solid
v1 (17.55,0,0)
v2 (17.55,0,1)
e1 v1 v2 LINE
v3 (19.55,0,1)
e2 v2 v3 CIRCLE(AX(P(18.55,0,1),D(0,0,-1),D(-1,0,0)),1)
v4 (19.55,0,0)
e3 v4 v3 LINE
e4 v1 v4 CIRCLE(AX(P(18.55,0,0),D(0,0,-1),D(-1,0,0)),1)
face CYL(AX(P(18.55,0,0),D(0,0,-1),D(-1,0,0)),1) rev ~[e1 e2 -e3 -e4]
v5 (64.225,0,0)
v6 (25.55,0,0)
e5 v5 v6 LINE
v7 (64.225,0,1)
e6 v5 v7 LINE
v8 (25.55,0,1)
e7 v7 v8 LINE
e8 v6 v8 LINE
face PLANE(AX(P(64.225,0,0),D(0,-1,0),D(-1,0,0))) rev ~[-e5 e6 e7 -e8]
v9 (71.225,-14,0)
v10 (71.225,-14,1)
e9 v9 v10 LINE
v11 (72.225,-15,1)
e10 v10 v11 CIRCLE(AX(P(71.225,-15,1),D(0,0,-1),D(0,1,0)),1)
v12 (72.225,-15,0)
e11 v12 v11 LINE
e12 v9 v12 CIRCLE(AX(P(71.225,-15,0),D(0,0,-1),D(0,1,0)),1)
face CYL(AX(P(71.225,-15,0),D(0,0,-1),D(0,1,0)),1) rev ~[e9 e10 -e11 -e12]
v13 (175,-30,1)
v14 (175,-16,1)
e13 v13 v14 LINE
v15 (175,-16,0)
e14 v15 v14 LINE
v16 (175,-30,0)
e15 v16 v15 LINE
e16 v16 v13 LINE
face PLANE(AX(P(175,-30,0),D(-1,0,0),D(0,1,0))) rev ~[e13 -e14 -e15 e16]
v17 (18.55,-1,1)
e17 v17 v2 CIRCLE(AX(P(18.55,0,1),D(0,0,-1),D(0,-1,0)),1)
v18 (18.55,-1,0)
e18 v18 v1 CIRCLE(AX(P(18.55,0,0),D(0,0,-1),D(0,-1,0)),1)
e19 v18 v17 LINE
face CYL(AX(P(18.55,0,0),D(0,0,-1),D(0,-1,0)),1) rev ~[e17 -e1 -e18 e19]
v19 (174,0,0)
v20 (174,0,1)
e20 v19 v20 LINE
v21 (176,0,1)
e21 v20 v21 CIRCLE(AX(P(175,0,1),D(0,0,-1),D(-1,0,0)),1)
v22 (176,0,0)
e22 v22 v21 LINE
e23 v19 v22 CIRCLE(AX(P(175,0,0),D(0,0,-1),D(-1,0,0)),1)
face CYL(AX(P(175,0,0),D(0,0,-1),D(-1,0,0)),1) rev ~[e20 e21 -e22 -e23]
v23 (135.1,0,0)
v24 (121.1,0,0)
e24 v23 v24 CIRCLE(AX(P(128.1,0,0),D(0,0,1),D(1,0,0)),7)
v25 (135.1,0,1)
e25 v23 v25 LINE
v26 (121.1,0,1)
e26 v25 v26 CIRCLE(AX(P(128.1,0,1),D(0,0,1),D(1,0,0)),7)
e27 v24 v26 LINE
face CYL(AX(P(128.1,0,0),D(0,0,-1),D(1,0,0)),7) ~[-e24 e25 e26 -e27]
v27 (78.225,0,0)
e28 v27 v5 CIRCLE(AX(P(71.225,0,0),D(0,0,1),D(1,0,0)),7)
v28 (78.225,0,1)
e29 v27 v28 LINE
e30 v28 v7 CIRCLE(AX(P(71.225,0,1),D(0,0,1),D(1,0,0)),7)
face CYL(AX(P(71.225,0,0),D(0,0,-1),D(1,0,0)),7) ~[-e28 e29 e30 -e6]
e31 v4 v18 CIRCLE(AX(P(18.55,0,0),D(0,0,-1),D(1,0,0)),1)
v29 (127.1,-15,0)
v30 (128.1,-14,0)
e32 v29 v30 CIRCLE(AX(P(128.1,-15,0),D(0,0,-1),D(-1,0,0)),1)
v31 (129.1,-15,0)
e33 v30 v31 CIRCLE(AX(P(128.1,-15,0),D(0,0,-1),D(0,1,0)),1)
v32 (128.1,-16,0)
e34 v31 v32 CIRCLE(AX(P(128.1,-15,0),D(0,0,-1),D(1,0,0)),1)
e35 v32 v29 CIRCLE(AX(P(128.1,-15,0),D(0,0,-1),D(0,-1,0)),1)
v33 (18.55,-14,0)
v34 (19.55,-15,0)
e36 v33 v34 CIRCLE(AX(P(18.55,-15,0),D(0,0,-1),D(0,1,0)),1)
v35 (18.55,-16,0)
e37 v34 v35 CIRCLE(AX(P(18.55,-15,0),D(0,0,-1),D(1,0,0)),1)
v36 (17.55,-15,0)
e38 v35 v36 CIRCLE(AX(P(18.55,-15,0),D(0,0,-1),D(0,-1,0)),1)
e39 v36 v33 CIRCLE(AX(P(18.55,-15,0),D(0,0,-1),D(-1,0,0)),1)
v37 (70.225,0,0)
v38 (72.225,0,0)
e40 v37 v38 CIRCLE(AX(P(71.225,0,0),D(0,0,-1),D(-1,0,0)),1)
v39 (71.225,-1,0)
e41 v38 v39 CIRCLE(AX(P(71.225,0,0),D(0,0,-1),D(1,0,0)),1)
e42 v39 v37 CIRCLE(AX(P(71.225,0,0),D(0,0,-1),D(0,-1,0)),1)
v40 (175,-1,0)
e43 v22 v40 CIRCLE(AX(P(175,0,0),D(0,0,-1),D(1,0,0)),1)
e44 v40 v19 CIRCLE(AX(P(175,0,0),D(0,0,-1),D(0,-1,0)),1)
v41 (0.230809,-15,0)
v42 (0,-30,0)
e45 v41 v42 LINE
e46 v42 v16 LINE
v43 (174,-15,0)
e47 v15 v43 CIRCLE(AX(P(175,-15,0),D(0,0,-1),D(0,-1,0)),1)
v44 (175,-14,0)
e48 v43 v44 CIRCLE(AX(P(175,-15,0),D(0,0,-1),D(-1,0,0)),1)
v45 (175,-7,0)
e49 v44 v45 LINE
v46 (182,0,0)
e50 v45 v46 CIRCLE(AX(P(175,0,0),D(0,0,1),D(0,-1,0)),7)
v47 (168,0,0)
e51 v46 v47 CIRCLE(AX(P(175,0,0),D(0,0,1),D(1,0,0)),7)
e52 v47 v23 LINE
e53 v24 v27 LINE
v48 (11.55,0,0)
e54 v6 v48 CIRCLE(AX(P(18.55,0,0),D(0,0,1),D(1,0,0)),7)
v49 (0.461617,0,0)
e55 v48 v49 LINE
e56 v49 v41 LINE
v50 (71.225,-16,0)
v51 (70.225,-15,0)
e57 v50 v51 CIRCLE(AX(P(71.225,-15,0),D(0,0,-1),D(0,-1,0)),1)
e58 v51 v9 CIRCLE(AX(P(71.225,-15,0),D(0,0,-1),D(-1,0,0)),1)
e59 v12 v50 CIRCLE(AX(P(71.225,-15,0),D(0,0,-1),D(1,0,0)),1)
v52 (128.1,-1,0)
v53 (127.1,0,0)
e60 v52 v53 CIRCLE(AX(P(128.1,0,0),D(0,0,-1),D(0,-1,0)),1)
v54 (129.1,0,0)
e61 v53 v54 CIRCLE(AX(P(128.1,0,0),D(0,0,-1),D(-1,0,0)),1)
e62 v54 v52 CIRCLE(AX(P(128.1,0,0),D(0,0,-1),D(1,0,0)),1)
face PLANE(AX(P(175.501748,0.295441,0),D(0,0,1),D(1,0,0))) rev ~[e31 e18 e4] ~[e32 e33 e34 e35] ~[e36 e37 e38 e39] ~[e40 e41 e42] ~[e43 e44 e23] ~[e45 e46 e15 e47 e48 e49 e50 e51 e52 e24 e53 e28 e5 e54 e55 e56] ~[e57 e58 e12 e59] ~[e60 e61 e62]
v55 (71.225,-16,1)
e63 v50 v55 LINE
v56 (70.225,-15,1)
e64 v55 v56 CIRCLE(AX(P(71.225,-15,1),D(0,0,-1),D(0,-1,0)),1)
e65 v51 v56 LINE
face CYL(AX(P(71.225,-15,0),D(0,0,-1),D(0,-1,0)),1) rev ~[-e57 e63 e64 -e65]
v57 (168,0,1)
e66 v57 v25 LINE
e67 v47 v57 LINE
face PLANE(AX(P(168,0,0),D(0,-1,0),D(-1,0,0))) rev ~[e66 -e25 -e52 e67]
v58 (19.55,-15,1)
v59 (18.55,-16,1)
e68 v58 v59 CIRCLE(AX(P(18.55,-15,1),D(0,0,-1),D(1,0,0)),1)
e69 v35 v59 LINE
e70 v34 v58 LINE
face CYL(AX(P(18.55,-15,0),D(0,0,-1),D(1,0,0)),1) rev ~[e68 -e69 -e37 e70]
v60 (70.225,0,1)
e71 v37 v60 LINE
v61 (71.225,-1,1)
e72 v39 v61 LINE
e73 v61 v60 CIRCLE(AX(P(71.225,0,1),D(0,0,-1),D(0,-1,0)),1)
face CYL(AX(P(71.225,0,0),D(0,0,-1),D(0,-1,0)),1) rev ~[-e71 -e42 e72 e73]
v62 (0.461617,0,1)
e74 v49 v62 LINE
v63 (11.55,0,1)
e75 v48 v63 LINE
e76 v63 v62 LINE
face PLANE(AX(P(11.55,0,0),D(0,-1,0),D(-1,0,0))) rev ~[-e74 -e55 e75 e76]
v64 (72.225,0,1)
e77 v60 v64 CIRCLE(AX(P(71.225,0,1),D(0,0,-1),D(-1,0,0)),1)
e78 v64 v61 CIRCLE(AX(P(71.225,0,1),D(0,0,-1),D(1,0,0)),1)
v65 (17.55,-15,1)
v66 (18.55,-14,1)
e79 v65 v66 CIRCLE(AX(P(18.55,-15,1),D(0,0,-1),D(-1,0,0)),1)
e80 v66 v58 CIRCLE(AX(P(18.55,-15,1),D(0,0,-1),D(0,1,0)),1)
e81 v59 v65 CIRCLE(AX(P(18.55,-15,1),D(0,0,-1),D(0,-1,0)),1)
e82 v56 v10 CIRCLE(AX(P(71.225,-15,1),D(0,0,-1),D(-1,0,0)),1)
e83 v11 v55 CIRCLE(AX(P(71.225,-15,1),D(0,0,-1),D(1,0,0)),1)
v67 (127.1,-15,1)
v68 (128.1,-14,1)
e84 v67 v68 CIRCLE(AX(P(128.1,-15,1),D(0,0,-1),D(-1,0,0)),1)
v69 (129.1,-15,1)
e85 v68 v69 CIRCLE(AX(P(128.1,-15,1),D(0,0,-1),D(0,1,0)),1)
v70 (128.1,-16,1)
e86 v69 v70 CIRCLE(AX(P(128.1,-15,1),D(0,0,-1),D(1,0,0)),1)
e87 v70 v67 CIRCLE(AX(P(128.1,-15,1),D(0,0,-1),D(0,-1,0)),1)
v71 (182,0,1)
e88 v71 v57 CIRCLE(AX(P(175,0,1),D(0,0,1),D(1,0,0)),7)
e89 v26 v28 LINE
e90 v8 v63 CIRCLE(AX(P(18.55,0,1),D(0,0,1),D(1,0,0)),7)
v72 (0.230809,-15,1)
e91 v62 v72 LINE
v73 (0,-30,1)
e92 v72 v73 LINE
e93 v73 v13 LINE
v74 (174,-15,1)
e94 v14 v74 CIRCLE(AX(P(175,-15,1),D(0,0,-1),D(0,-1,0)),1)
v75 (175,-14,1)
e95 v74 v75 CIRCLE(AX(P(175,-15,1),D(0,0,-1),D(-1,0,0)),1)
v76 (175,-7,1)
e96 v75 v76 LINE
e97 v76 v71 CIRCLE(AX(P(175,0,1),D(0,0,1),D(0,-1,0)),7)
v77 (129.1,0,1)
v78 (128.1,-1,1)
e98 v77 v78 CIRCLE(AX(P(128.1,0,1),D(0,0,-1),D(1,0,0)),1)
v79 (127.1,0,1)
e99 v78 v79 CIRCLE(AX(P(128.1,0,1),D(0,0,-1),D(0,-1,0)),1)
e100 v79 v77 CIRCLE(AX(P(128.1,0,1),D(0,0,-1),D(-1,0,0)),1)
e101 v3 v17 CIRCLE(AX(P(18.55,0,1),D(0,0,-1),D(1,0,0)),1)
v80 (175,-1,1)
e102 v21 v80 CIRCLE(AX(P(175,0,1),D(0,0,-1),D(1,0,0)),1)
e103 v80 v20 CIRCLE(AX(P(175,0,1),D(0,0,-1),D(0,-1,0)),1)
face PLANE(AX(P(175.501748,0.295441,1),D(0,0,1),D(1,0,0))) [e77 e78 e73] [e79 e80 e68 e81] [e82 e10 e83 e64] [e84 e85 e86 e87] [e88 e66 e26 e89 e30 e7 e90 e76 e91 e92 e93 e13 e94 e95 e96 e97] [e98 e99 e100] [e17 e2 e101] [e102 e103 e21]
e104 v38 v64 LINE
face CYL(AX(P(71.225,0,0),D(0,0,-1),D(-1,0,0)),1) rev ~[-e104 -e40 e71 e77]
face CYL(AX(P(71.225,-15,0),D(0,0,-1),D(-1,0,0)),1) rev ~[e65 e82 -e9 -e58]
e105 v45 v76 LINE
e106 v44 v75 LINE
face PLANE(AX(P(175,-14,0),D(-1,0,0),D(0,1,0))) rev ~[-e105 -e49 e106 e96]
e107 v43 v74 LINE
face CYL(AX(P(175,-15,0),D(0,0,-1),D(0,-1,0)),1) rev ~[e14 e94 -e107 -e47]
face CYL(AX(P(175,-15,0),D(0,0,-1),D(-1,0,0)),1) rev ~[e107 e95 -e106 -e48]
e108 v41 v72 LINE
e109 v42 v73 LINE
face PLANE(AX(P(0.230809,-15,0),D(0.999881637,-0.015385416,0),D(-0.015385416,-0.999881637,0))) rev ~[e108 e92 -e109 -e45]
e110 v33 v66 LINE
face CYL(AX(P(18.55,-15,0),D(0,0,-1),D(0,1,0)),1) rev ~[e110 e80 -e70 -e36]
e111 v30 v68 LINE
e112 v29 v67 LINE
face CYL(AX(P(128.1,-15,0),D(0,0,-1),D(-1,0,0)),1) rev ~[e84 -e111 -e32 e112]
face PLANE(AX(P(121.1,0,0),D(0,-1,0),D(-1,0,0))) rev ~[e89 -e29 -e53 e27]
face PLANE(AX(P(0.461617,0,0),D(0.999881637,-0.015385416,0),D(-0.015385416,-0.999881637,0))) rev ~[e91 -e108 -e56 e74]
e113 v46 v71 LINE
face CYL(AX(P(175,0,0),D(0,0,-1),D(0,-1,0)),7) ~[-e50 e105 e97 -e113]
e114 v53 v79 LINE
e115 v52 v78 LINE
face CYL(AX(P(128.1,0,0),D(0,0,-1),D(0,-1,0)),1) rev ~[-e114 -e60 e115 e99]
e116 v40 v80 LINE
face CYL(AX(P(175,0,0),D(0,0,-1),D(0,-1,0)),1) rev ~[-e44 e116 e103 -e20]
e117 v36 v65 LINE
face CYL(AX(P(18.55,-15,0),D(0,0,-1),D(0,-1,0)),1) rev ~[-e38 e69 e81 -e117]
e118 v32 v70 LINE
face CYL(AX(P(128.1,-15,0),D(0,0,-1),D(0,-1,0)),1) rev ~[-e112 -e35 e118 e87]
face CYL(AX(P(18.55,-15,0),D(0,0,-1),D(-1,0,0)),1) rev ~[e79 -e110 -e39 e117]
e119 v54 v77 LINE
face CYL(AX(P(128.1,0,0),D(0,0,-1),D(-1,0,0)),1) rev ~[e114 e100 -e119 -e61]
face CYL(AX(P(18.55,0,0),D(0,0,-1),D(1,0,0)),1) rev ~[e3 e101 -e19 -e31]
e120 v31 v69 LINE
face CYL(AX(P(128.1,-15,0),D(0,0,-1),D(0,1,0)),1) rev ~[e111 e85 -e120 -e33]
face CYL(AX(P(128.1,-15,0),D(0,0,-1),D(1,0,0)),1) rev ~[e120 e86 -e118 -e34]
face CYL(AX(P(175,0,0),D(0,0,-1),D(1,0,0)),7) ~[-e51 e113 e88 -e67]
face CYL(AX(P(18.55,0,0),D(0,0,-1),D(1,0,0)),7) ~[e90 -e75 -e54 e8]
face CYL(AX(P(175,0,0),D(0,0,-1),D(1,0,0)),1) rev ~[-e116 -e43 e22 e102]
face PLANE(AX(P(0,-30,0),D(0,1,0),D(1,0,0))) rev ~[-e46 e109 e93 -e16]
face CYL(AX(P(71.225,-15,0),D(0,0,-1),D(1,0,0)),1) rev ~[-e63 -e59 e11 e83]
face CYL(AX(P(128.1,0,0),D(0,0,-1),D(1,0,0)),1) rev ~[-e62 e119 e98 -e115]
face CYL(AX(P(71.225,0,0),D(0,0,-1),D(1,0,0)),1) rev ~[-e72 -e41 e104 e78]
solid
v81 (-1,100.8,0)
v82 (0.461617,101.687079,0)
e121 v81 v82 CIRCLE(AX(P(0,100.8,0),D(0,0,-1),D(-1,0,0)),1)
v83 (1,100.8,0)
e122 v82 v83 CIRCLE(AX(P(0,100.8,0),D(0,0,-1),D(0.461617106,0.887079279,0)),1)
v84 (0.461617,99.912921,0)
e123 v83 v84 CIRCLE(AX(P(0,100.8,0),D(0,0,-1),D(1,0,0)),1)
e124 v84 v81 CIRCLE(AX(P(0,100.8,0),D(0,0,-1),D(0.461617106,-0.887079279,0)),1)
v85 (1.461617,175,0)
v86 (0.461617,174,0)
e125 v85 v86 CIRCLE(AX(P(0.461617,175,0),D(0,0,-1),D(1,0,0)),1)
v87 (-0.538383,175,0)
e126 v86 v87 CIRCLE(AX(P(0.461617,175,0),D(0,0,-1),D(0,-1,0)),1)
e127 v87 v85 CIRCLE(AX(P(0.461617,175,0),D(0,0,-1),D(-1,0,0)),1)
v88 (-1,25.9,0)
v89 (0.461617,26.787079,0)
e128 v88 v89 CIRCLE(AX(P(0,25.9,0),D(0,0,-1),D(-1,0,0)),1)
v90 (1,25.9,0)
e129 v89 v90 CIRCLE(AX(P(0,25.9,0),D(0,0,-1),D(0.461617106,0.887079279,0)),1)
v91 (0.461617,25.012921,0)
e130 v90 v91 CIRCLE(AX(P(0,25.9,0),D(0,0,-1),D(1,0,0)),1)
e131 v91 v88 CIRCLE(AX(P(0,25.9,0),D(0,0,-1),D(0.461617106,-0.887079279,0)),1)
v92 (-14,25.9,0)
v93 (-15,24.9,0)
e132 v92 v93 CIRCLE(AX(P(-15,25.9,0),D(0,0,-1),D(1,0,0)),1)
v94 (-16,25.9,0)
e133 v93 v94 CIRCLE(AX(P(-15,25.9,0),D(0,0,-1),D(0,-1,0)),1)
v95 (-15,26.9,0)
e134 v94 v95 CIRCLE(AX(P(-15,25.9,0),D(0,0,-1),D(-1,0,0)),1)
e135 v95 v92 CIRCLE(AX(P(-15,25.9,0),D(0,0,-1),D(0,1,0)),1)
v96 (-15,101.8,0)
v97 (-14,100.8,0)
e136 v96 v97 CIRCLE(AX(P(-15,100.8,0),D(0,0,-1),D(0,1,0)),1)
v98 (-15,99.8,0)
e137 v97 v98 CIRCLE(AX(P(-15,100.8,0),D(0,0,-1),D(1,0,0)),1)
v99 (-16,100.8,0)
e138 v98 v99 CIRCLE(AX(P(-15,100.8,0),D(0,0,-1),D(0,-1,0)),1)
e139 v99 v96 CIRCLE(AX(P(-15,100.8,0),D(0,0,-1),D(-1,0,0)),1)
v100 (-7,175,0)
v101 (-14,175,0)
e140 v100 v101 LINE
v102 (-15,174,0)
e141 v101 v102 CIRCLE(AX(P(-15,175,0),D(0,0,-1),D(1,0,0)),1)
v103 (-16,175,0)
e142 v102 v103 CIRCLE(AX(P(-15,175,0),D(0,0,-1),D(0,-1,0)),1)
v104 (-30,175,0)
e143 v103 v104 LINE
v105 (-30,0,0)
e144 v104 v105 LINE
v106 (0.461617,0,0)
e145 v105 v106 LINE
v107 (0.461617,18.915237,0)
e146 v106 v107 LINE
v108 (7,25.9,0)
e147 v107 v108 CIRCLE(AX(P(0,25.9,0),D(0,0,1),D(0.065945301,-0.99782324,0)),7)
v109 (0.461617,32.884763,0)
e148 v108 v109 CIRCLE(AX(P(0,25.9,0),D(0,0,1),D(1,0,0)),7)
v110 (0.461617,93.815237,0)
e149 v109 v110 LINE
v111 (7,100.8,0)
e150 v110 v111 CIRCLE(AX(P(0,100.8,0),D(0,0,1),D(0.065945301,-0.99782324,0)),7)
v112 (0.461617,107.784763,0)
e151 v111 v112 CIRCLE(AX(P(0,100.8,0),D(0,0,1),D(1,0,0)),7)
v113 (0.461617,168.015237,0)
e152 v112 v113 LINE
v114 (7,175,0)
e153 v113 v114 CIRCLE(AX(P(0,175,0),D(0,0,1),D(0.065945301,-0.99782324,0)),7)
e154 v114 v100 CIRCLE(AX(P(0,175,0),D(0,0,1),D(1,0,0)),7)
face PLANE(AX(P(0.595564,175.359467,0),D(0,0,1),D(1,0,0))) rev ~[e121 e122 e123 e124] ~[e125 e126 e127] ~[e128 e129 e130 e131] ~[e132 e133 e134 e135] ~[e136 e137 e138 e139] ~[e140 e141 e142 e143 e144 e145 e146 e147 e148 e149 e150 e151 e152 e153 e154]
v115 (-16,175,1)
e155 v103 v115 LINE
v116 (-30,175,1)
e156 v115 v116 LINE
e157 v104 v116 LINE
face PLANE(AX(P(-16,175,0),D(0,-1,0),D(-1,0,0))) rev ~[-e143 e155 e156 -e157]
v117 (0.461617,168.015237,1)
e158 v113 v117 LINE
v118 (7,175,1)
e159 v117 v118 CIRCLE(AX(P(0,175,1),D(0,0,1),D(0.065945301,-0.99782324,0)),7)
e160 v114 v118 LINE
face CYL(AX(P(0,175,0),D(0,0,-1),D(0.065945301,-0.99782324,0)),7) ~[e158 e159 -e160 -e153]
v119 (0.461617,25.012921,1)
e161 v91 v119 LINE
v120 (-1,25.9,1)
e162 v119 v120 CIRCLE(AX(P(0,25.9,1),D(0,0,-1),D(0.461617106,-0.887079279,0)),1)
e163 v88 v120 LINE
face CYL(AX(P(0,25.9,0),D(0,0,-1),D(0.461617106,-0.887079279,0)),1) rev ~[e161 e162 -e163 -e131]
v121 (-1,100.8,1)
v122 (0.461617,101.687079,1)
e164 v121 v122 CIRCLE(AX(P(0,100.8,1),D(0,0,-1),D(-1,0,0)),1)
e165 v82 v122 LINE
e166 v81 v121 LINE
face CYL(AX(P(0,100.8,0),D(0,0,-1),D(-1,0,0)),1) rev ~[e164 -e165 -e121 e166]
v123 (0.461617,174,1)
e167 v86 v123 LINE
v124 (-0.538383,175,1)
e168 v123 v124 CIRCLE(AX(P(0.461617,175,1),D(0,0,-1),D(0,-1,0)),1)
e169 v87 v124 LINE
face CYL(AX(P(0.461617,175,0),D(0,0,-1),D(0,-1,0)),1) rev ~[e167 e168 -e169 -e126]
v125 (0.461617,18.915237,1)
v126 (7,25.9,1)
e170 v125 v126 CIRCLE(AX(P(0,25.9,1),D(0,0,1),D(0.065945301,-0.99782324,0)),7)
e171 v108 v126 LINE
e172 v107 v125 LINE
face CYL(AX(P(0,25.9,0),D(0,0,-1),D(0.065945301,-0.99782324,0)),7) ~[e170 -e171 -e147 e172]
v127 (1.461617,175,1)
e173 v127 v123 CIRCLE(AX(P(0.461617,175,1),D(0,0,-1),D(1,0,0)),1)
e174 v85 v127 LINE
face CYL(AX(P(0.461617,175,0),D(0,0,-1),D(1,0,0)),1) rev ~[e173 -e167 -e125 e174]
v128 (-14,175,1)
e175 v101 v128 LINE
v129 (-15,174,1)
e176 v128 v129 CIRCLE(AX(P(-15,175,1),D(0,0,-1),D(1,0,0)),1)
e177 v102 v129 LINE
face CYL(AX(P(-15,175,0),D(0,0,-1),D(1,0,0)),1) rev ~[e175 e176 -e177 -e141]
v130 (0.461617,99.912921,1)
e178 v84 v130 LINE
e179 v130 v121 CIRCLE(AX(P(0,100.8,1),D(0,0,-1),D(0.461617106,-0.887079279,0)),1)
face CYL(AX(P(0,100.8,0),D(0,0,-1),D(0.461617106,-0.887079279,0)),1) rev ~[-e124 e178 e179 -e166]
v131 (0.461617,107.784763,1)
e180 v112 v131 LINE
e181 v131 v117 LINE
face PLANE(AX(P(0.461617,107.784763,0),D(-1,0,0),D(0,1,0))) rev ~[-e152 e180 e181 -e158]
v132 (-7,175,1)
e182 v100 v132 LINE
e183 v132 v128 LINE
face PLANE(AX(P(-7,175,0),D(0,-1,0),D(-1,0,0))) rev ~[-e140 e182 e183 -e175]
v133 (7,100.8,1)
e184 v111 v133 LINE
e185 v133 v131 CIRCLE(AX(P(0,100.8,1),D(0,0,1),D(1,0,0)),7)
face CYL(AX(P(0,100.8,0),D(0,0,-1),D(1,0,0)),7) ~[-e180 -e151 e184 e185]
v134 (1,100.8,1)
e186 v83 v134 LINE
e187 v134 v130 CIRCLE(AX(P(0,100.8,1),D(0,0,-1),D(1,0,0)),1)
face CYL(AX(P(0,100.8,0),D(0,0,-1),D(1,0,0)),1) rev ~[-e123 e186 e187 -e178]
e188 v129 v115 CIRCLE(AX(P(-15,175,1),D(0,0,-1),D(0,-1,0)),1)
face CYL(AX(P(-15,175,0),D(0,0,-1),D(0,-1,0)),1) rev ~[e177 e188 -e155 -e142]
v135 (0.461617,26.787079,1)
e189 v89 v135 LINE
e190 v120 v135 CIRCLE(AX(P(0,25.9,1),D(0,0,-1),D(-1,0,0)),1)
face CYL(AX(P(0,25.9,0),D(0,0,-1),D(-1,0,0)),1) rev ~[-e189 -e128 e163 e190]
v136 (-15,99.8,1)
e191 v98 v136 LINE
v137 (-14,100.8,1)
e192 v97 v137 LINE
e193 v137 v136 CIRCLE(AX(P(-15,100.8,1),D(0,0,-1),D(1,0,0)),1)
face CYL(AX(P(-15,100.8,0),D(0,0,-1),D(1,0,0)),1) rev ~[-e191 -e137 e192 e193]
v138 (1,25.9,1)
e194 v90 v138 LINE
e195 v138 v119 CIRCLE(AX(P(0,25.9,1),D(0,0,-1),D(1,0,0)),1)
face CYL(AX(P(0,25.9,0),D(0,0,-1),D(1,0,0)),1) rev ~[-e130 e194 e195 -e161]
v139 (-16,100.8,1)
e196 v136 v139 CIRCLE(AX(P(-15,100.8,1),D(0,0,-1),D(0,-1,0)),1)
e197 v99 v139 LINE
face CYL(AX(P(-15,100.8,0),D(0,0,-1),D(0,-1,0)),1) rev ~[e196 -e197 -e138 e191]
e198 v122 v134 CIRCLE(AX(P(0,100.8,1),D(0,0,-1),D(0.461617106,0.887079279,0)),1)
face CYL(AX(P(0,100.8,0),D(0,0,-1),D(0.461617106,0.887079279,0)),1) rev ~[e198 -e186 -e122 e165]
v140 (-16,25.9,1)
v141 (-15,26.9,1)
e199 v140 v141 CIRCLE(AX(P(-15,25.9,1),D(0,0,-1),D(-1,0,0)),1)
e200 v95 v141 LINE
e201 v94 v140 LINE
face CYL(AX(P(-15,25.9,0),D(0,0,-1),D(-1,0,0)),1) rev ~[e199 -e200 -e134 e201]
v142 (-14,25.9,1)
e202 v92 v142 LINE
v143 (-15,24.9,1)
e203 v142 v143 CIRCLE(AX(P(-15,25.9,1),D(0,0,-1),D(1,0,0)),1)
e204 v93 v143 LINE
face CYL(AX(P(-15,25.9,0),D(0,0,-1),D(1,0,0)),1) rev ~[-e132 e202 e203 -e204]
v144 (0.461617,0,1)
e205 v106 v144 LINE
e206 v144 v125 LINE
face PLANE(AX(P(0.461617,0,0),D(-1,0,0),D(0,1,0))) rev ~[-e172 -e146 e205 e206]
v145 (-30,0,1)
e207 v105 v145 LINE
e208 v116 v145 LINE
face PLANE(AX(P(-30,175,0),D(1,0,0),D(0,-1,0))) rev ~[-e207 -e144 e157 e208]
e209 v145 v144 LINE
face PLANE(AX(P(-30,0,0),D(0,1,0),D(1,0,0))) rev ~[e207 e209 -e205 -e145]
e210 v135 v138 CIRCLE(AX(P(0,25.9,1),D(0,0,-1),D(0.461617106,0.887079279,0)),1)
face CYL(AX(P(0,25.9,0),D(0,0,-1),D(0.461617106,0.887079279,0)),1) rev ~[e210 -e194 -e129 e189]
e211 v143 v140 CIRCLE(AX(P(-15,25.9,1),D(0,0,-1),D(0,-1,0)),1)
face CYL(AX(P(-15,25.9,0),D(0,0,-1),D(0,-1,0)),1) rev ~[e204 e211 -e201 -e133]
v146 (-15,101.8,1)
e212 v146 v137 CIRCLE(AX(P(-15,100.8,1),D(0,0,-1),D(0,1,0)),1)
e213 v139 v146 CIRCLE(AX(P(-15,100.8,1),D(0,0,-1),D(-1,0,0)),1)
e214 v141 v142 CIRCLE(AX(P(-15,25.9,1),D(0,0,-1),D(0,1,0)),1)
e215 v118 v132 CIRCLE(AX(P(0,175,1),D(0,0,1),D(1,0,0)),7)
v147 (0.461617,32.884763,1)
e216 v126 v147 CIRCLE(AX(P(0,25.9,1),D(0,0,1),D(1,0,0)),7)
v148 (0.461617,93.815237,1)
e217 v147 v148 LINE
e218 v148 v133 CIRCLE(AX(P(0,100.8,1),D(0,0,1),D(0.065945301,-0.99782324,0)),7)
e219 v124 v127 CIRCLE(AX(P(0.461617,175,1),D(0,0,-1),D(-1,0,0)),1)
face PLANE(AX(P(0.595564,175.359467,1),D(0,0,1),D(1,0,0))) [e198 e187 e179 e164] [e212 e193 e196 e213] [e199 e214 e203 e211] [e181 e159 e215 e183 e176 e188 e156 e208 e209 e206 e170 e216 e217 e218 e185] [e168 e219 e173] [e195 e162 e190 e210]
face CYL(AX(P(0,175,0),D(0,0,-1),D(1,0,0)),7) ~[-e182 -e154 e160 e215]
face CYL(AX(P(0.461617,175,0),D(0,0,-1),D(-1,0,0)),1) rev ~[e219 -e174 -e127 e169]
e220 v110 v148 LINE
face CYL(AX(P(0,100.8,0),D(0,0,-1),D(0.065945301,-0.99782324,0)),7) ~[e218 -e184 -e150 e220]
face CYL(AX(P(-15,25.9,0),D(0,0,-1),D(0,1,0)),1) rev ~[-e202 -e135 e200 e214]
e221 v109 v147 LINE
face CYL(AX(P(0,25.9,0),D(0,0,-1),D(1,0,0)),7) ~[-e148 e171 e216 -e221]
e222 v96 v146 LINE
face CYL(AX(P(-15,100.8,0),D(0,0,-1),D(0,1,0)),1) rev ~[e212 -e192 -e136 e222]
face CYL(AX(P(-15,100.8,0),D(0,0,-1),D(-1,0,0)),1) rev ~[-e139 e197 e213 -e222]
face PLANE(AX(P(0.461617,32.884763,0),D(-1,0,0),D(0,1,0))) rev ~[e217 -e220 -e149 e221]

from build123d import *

# Parameters (mm, degrees)
F1_DEPTH = 1


with BuildPart() as f1:
    # F0 (on Top) → F1 (new body)
    with BuildSketch(Plane.XY):
        with BuildLine():
            ThreePointArc((182, 0), (175, 7), (168, 0))
            Line((168, 0), (174, 0))
            ThreePointArc((174, 0), (175, 1), (176, 0))
            ThreePointArc((176, 0), (175.7071067812, -0.7071067812), (175, -1))
            Line((175, -1), (175, -7))
            ThreePointArc((175, -7), (179.9497474683, -4.9497474683), (182, 0))
        make_face()
        with BuildLine():
            Line((19.55, 0), (25.55, 0))
            ThreePointArc((25.55, 0), (18.55, 7), (11.55, 0))
            Line((11.55, 0), (17.55, 0))
            ThreePointArc((17.55, 0), (18.55, 1), (19.55, 0))
        make_face()
        with BuildLine():
            ThreePointArc((78.225, 0), (71.225, 7), (64.225, 0))
            Line((64.225, 0), (70.225, 0))
            ThreePointArc((70.225, 0), (71.225, 1), (72.225, 0))
            Line((72.225, 0), (78.225, 0))
        make_face()
        with BuildLine():
            ThreePointArc((135.1, 0), (128.1, 7), (121.1, 0))
            Line((121.1, 0), (127.1, 0))
            ThreePointArc((127.1, 0), (128.1, 1), (129.1, 0))
            Line((129.1, 0), (135.1, 0))
        make_face()
        with BuildLine():
            Line((174, 0), (168, 0))
            ThreePointArc((168, 0), (170.0502525317, -4.9497474683), (175, -7))
            Line((175, -7), (175, -1))
            ThreePointArc((175, -1), (174.2928932188, -0.7071067812), (174, 0))
        make_face()
        with BuildLine():
            Line((17.55, -15), (0.2308085532, -15))
            Line((0.2308085532, -15), (0, -30))
            Line((0, -30), (18.55, -30))
            Line((18.55, -30), (18.55, -16))
            ThreePointArc((18.55, -16), (17.8428932188, -15.7071067812), (17.55, -15))
        make_face()
        with BuildLine():
            ThreePointArc((18.55, -7), (13.6002525317, -4.9497474683), (11.55, 0))
            Line((11.55, 0), (0.4616171063, 0))
            Line((0.4616171063, 0), (0.2308085532, -15))
            Line((0.2308085532, -15), (17.55, -15))
            ThreePointArc((17.55, -15), (17.8428932188, -14.2928932188), (18.55, -14))
            Line((18.55, -14), (18.55, -7))
        make_face()
        with BuildLine():
            Line((17.55, 0), (11.55, 0))
            ThreePointArc((11.55, 0), (13.6002525317, -4.9497474683), (18.55, -7))
            Line((18.55, -7), (18.55, -1))
            ThreePointArc((18.55, -1), (17.8428932188, -0.7071067812), (17.55, 0))
        make_face()
        with BuildLine():
            ThreePointArc((18.55, -7), (23.4997474683, -4.9497474683), (25.55, 0))
            Line((25.55, 0), (19.55, 0))
            ThreePointArc((19.55, 0), (19.2571067812, -0.7071067812), (18.55, -1))
            Line((18.55, -1), (18.55, -7))
        make_face()
        with BuildLine():
            Line((70.225, 0), (64.225, 0))
            ThreePointArc((64.225, 0), (66.2752525317, -4.9497474683), (71.225, -7))
            Line((71.225, -7), (71.225, -1))
            ThreePointArc((71.225, -1), (70.5178932188, -0.7071067812), (70.225, 0))
        make_face()
        with BuildLine():
            ThreePointArc((71.225, -7), (76.1747474683, -4.9497474683), (78.225, 0))
            Line((78.225, 0), (72.225, 0))
            ThreePointArc((72.225, 0), (71.9321067812, -0.7071067812), (71.225, -1))
            Line((71.225, -1), (71.225, -7))
        make_face()
        with BuildLine():
            Line((127.1, 0), (121.1, 0))
            ThreePointArc((121.1, 0), (123.1502525317, -4.9497474683), (128.1, -7))
            Line((128.1, -7), (128.1, -1))
            ThreePointArc((128.1, -1), (127.3928932188, -0.7071067812), (127.1, 0))
        make_face()
        with BuildLine():
            ThreePointArc((128.1, -7), (133.0497474683, -4.9497474683), (135.1, 0))
            Line((135.1, 0), (129.1, 0))
            ThreePointArc((129.1, 0), (128.8071067812, -0.7071067812), (128.1, -1))
            Line((128.1, -1), (128.1, -7))
        make_face()
        with BuildLine():
            Line((174, -15), (129.1, -15))
            ThreePointArc((129.1, -15), (128.8071067812, -15.7071067812), (128.1, -16))
            Line((128.1, -16), (128.1, -30))
            Line((128.1, -30), (175, -30))
            Line((175, -30), (175, -16))
            ThreePointArc((175, -16), (174.2928932188, -15.7071067812), (174, -15))
        make_face()
        with BuildLine():
            Line((70.225, -15), (19.55, -15))
            ThreePointArc((19.55, -15), (19.2571067812, -15.7071067812), (18.55, -16))
            Line((18.55, -16), (18.55, -30))
            Line((18.55, -30), (71.225, -30))
            Line((71.225, -30), (71.225, -16))
            ThreePointArc((71.225, -16), (70.5178932188, -15.7071067812), (70.225, -15))
        make_face()
        with BuildLine():
            Line((127.1, -15), (72.225, -15))
            ThreePointArc((72.225, -15), (71.9321067812, -15.7071067812), (71.225, -16))
            Line((71.225, -16), (71.225, -30))
            Line((71.225, -30), (128.1, -30))
            Line((128.1, -30), (128.1, -16))
            ThreePointArc((128.1, -16), (127.3928932188, -15.7071067812), (127.1, -15))
        make_face()
        with BuildLine():
            Line((168, 0), (135.1, 0))
            ThreePointArc((135.1, 0), (133.0497474683, -4.9497474683), (128.1, -7))
            Line((128.1, -7), (128.1, -14))
            ThreePointArc((128.1, -14), (128.8071067812, -14.2928932188), (129.1, -15))
            Line((129.1, -15), (174, -15))
            ThreePointArc((174, -15), (174.2928932188, -14.2928932188), (175, -14))
            Line((175, -14), (175, -7))
            ThreePointArc((175, -7), (170.0502525317, -4.9497474683), (168, 0))
        make_face()
        with BuildLine():
            Line((64.225, 0), (25.55, 0))
            ThreePointArc((25.55, 0), (23.4997474683, -4.9497474683), (18.55, -7))
            Line((18.55, -7), (18.55, -14))
            ThreePointArc((18.55, -14), (19.2571067812, -14.2928932188), (19.55, -15))
            Line((19.55, -15), (70.225, -15))
            ThreePointArc((70.225, -15), (70.5178932188, -14.2928932188), (71.225, -14))
            Line((71.225, -14), (71.225, -7))
            ThreePointArc((71.225, -7), (66.2752525317, -4.9497474683), (64.225, 0))
        make_face()
        with BuildLine():
            Line((121.1, 0), (78.225, 0))
            ThreePointArc((78.225, 0), (76.1747474683, -4.9497474683), (71.225, -7))
            Line((71.225, -7), (71.225, -14))
            ThreePointArc((71.225, -14), (71.9321067812, -14.2928932188), (72.225, -15))
            Line((72.225, -15), (127.1, -15))
            ThreePointArc((127.1, -15), (127.3928932188, -14.2928932188), (128.1, -14))
            Line((128.1, -14), (128.1, -7))
            ThreePointArc((128.1, -7), (123.1502525317, -4.9497474683), (121.1, 0))
        make_face()
    extrude(amount=F1_DEPTH)


with BuildPart() as f1b:
    # F0 (on Top) → F1, piece 2 (new body)
    with BuildSketch(Plane.XY):
        with BuildLine():
            Line((0.4616171063, 174), (0.4616171063, 168.0152373235))
            ThreePointArc((0.4616171063, 168.0152373235), (5.1103483122, 170.2162420496), (7, 175))
            ThreePointArc((7, 175), (0, 182), (-7, 175))
            Line((-7, 175), (-0.5383828937, 175))
            ThreePointArc((-0.5383828937, 175), (0.4616171063, 176), (1.4616171063, 175))
            ThreePointArc((1.4616171063, 175), (1.1687238875, 174.2928932188), (0.4616171063, 174))
        make_face()
        with BuildLine():
            Line((0.4616171063, 25.0129207211), (0.4616171063, 18.9152373235))
            ThreePointArc((0.4616171063, 18.9152373235), (5.1103483122, 21.1162420496), (7, 25.9))
            ThreePointArc((7, 25.9), (5.1103483122, 30.6837579504), (0.4616171063, 32.8847626765))
            Line((0.4616171063, 32.8847626765), (0.4616171063, 26.7870792789))
            ThreePointArc((0.4616171063, 26.7870792789), (0.8548734135, 26.4188366283), (1, 25.9))
            ThreePointArc((1, 25.9), (0.8548734135, 25.3811633717), (0.4616171063, 25.0129207211))
        make_face()
        with BuildLine():
            Line((0.4616171063, 99.9129207211), (0.4616171063, 93.8152373235))
            ThreePointArc((0.4616171063, 93.8152373235), (5.1103483122, 96.0162420496), (7, 100.8))
            ThreePointArc((7, 100.8), (5.1103483122, 105.5837579504), (0.4616171063, 107.7847626765))
            Line((0.4616171063, 107.7847626765), (0.4616171063, 101.6870792789))
            ThreePointArc((0.4616171063, 101.6870792789), (0.8548734135, 101.3188366283), (1, 100.8))
            ThreePointArc((1, 100.8), (0.8548734135, 100.2811633717), (0.4616171063, 99.9129207211))
        make_face()
        with BuildLine():
            ThreePointArc((-7, 175), (-4.7837579504, 169.8896516878), (0.4616171063, 168.0152373235))
            Line((0.4616171063, 168.0152373235), (0.4616171063, 174))
            ThreePointArc((0.4616171063, 174), (-0.2454896748, 174.2928932188), (-0.5383828937, 175))
            Line((-0.5383828937, 175), (-7, 175))
        make_face()
        with BuildLine():
            Line((-30, 0), (-15, 0))
            Line((-15, 0), (-15, 24.9))
            ThreePointArc((-15, 24.9), (-15.7071067812, 25.1928932188), (-16, 25.9))
            Line((-16, 25.9), (-30, 25.9))
            Line((-30, 25.9), (-30, 0))
        make_face()
        with BuildLine():
            ThreePointArc((0.4616171063, 32.8847626765), (-4.7837579504, 31.0103483122), (-7, 25.9))
            Line((-7, 25.9), (-1, 25.9))
            ThreePointArc((-1, 25.9), (-0.5188366283, 26.7548734135), (0.4616171063, 26.7870792789))
            Line((0.4616171063, 26.7870792789), (0.4616171063, 32.8847626765))
        make_face()
        with BuildLine():
            Line((-15, 0), (0.4616171063, 0))
            Line((0.4616171063, 0), (0.4616171063, 18.9152373235))
            ThreePointArc((0.4616171063, 18.9152373235), (-4.7837579504, 20.7896516878), (-7, 25.9))
            Line((-7, 25.9), (-14, 25.9))
            ThreePointArc((-14, 25.9), (-14.2928932188, 25.1928932188), (-15, 24.9))
            Line((-15, 24.9), (-15, 0))
        make_face()
        with BuildLine():
            ThreePointArc((-7, 25.9), (-4.7837579504, 20.7896516878), (0.4616171063, 18.9152373235))
            Line((0.4616171063, 18.9152373235), (0.4616171063, 25.0129207211))
            ThreePointArc((0.4616171063, 25.0129207211), (-0.5188366283, 25.0451265865), (-1, 25.9))
            Line((-1, 25.9), (-7, 25.9))
        make_face()
        with BuildLine():
            ThreePointArc((0.4616171063, 107.7847626765), (-4.7837579504, 105.9103483122), (-7, 100.8))
            Line((-7, 100.8), (-1, 100.8))
            ThreePointArc((-1, 100.8), (-0.5188366283, 101.6548734135), (0.4616171063, 101.6870792789))
            Line((0.4616171063, 101.6870792789), (0.4616171063, 107.7847626765))
        make_face()
        with BuildLine():
            ThreePointArc((-7, 100.8), (-4.7837579504, 95.6896516878), (0.4616171063, 93.8152373235))
            Line((0.4616171063, 93.8152373235), (0.4616171063, 99.9129207211))
            ThreePointArc((0.4616171063, 99.9129207211), (-0.5188366283, 99.9451265865), (-1, 100.8))
            Line((-1, 100.8), (-7, 100.8))
        make_face()
        with BuildLine():
            Line((-30, 175), (-30, 100.8))
            Line((-30, 100.8), (-16, 100.8))
            ThreePointArc((-16, 100.8), (-15.7071067812, 101.5071067812), (-15, 101.8))
            Line((-15, 101.8), (-15, 174))
            ThreePointArc((-15, 174), (-15.7071067812, 174.2928932188), (-16, 175))
            Line((-16, 175), (-30, 175))
        make_face()
        with BuildLine():
            Line((-30, 25.9), (-16, 25.9))
            ThreePointArc((-16, 25.9), (-15.7071067812, 26.6071067812), (-15, 26.9))
            Line((-15, 26.9), (-15, 99.8))
            ThreePointArc((-15, 99.8), (-15.7071067812, 100.0928932188), (-16, 100.8))
            Line((-16, 100.8), (-30, 100.8))
            Line((-30, 100.8), (-30, 25.9))
        make_face()
        with BuildLine():
            Line((-14, 100.8), (-7, 100.8))
            ThreePointArc((-7, 100.8), (-4.7837579504, 105.9103483122), (0.4616171063, 107.7847626765))
            Line((0.4616171063, 107.7847626765), (0.4616171063, 168.0152373235))
            ThreePointArc((0.4616171063, 168.0152373235), (-4.7837579504, 169.8896516878), (-7, 175))
            Line((-7, 175), (-14, 175))
            ThreePointArc((-14, 175), (-14.2928932188, 174.2928932188), (-15, 174))
            Line((-15, 174), (-15, 101.8))
            ThreePointArc((-15, 101.8), (-14.2928932188, 101.5071067812), (-14, 100.8))
        make_face()
        with BuildLine():
            Line((-14, 25.9), (-7, 25.9))
            ThreePointArc((-7, 25.9), (-4.7837579504, 31.0103483122), (0.4616171063, 32.8847626765))
            Line((0.4616171063, 32.8847626765), (0.4616171063, 93.8152373235))
            ThreePointArc((0.4616171063, 93.8152373235), (-4.7837579504, 95.6896516878), (-7, 100.8))
            Line((-7, 100.8), (-14, 100.8))
            ThreePointArc((-14, 100.8), (-14.2928932188, 100.0928932188), (-15, 99.8))
            Line((-15, 99.8), (-15, 26.9))
            ThreePointArc((-15, 26.9), (-14.2928932188, 26.6071067812), (-14, 25.9))
        make_face()
    extrude(amount=F1_DEPTH)


solid = Compound([f1.part, f1b.part])
